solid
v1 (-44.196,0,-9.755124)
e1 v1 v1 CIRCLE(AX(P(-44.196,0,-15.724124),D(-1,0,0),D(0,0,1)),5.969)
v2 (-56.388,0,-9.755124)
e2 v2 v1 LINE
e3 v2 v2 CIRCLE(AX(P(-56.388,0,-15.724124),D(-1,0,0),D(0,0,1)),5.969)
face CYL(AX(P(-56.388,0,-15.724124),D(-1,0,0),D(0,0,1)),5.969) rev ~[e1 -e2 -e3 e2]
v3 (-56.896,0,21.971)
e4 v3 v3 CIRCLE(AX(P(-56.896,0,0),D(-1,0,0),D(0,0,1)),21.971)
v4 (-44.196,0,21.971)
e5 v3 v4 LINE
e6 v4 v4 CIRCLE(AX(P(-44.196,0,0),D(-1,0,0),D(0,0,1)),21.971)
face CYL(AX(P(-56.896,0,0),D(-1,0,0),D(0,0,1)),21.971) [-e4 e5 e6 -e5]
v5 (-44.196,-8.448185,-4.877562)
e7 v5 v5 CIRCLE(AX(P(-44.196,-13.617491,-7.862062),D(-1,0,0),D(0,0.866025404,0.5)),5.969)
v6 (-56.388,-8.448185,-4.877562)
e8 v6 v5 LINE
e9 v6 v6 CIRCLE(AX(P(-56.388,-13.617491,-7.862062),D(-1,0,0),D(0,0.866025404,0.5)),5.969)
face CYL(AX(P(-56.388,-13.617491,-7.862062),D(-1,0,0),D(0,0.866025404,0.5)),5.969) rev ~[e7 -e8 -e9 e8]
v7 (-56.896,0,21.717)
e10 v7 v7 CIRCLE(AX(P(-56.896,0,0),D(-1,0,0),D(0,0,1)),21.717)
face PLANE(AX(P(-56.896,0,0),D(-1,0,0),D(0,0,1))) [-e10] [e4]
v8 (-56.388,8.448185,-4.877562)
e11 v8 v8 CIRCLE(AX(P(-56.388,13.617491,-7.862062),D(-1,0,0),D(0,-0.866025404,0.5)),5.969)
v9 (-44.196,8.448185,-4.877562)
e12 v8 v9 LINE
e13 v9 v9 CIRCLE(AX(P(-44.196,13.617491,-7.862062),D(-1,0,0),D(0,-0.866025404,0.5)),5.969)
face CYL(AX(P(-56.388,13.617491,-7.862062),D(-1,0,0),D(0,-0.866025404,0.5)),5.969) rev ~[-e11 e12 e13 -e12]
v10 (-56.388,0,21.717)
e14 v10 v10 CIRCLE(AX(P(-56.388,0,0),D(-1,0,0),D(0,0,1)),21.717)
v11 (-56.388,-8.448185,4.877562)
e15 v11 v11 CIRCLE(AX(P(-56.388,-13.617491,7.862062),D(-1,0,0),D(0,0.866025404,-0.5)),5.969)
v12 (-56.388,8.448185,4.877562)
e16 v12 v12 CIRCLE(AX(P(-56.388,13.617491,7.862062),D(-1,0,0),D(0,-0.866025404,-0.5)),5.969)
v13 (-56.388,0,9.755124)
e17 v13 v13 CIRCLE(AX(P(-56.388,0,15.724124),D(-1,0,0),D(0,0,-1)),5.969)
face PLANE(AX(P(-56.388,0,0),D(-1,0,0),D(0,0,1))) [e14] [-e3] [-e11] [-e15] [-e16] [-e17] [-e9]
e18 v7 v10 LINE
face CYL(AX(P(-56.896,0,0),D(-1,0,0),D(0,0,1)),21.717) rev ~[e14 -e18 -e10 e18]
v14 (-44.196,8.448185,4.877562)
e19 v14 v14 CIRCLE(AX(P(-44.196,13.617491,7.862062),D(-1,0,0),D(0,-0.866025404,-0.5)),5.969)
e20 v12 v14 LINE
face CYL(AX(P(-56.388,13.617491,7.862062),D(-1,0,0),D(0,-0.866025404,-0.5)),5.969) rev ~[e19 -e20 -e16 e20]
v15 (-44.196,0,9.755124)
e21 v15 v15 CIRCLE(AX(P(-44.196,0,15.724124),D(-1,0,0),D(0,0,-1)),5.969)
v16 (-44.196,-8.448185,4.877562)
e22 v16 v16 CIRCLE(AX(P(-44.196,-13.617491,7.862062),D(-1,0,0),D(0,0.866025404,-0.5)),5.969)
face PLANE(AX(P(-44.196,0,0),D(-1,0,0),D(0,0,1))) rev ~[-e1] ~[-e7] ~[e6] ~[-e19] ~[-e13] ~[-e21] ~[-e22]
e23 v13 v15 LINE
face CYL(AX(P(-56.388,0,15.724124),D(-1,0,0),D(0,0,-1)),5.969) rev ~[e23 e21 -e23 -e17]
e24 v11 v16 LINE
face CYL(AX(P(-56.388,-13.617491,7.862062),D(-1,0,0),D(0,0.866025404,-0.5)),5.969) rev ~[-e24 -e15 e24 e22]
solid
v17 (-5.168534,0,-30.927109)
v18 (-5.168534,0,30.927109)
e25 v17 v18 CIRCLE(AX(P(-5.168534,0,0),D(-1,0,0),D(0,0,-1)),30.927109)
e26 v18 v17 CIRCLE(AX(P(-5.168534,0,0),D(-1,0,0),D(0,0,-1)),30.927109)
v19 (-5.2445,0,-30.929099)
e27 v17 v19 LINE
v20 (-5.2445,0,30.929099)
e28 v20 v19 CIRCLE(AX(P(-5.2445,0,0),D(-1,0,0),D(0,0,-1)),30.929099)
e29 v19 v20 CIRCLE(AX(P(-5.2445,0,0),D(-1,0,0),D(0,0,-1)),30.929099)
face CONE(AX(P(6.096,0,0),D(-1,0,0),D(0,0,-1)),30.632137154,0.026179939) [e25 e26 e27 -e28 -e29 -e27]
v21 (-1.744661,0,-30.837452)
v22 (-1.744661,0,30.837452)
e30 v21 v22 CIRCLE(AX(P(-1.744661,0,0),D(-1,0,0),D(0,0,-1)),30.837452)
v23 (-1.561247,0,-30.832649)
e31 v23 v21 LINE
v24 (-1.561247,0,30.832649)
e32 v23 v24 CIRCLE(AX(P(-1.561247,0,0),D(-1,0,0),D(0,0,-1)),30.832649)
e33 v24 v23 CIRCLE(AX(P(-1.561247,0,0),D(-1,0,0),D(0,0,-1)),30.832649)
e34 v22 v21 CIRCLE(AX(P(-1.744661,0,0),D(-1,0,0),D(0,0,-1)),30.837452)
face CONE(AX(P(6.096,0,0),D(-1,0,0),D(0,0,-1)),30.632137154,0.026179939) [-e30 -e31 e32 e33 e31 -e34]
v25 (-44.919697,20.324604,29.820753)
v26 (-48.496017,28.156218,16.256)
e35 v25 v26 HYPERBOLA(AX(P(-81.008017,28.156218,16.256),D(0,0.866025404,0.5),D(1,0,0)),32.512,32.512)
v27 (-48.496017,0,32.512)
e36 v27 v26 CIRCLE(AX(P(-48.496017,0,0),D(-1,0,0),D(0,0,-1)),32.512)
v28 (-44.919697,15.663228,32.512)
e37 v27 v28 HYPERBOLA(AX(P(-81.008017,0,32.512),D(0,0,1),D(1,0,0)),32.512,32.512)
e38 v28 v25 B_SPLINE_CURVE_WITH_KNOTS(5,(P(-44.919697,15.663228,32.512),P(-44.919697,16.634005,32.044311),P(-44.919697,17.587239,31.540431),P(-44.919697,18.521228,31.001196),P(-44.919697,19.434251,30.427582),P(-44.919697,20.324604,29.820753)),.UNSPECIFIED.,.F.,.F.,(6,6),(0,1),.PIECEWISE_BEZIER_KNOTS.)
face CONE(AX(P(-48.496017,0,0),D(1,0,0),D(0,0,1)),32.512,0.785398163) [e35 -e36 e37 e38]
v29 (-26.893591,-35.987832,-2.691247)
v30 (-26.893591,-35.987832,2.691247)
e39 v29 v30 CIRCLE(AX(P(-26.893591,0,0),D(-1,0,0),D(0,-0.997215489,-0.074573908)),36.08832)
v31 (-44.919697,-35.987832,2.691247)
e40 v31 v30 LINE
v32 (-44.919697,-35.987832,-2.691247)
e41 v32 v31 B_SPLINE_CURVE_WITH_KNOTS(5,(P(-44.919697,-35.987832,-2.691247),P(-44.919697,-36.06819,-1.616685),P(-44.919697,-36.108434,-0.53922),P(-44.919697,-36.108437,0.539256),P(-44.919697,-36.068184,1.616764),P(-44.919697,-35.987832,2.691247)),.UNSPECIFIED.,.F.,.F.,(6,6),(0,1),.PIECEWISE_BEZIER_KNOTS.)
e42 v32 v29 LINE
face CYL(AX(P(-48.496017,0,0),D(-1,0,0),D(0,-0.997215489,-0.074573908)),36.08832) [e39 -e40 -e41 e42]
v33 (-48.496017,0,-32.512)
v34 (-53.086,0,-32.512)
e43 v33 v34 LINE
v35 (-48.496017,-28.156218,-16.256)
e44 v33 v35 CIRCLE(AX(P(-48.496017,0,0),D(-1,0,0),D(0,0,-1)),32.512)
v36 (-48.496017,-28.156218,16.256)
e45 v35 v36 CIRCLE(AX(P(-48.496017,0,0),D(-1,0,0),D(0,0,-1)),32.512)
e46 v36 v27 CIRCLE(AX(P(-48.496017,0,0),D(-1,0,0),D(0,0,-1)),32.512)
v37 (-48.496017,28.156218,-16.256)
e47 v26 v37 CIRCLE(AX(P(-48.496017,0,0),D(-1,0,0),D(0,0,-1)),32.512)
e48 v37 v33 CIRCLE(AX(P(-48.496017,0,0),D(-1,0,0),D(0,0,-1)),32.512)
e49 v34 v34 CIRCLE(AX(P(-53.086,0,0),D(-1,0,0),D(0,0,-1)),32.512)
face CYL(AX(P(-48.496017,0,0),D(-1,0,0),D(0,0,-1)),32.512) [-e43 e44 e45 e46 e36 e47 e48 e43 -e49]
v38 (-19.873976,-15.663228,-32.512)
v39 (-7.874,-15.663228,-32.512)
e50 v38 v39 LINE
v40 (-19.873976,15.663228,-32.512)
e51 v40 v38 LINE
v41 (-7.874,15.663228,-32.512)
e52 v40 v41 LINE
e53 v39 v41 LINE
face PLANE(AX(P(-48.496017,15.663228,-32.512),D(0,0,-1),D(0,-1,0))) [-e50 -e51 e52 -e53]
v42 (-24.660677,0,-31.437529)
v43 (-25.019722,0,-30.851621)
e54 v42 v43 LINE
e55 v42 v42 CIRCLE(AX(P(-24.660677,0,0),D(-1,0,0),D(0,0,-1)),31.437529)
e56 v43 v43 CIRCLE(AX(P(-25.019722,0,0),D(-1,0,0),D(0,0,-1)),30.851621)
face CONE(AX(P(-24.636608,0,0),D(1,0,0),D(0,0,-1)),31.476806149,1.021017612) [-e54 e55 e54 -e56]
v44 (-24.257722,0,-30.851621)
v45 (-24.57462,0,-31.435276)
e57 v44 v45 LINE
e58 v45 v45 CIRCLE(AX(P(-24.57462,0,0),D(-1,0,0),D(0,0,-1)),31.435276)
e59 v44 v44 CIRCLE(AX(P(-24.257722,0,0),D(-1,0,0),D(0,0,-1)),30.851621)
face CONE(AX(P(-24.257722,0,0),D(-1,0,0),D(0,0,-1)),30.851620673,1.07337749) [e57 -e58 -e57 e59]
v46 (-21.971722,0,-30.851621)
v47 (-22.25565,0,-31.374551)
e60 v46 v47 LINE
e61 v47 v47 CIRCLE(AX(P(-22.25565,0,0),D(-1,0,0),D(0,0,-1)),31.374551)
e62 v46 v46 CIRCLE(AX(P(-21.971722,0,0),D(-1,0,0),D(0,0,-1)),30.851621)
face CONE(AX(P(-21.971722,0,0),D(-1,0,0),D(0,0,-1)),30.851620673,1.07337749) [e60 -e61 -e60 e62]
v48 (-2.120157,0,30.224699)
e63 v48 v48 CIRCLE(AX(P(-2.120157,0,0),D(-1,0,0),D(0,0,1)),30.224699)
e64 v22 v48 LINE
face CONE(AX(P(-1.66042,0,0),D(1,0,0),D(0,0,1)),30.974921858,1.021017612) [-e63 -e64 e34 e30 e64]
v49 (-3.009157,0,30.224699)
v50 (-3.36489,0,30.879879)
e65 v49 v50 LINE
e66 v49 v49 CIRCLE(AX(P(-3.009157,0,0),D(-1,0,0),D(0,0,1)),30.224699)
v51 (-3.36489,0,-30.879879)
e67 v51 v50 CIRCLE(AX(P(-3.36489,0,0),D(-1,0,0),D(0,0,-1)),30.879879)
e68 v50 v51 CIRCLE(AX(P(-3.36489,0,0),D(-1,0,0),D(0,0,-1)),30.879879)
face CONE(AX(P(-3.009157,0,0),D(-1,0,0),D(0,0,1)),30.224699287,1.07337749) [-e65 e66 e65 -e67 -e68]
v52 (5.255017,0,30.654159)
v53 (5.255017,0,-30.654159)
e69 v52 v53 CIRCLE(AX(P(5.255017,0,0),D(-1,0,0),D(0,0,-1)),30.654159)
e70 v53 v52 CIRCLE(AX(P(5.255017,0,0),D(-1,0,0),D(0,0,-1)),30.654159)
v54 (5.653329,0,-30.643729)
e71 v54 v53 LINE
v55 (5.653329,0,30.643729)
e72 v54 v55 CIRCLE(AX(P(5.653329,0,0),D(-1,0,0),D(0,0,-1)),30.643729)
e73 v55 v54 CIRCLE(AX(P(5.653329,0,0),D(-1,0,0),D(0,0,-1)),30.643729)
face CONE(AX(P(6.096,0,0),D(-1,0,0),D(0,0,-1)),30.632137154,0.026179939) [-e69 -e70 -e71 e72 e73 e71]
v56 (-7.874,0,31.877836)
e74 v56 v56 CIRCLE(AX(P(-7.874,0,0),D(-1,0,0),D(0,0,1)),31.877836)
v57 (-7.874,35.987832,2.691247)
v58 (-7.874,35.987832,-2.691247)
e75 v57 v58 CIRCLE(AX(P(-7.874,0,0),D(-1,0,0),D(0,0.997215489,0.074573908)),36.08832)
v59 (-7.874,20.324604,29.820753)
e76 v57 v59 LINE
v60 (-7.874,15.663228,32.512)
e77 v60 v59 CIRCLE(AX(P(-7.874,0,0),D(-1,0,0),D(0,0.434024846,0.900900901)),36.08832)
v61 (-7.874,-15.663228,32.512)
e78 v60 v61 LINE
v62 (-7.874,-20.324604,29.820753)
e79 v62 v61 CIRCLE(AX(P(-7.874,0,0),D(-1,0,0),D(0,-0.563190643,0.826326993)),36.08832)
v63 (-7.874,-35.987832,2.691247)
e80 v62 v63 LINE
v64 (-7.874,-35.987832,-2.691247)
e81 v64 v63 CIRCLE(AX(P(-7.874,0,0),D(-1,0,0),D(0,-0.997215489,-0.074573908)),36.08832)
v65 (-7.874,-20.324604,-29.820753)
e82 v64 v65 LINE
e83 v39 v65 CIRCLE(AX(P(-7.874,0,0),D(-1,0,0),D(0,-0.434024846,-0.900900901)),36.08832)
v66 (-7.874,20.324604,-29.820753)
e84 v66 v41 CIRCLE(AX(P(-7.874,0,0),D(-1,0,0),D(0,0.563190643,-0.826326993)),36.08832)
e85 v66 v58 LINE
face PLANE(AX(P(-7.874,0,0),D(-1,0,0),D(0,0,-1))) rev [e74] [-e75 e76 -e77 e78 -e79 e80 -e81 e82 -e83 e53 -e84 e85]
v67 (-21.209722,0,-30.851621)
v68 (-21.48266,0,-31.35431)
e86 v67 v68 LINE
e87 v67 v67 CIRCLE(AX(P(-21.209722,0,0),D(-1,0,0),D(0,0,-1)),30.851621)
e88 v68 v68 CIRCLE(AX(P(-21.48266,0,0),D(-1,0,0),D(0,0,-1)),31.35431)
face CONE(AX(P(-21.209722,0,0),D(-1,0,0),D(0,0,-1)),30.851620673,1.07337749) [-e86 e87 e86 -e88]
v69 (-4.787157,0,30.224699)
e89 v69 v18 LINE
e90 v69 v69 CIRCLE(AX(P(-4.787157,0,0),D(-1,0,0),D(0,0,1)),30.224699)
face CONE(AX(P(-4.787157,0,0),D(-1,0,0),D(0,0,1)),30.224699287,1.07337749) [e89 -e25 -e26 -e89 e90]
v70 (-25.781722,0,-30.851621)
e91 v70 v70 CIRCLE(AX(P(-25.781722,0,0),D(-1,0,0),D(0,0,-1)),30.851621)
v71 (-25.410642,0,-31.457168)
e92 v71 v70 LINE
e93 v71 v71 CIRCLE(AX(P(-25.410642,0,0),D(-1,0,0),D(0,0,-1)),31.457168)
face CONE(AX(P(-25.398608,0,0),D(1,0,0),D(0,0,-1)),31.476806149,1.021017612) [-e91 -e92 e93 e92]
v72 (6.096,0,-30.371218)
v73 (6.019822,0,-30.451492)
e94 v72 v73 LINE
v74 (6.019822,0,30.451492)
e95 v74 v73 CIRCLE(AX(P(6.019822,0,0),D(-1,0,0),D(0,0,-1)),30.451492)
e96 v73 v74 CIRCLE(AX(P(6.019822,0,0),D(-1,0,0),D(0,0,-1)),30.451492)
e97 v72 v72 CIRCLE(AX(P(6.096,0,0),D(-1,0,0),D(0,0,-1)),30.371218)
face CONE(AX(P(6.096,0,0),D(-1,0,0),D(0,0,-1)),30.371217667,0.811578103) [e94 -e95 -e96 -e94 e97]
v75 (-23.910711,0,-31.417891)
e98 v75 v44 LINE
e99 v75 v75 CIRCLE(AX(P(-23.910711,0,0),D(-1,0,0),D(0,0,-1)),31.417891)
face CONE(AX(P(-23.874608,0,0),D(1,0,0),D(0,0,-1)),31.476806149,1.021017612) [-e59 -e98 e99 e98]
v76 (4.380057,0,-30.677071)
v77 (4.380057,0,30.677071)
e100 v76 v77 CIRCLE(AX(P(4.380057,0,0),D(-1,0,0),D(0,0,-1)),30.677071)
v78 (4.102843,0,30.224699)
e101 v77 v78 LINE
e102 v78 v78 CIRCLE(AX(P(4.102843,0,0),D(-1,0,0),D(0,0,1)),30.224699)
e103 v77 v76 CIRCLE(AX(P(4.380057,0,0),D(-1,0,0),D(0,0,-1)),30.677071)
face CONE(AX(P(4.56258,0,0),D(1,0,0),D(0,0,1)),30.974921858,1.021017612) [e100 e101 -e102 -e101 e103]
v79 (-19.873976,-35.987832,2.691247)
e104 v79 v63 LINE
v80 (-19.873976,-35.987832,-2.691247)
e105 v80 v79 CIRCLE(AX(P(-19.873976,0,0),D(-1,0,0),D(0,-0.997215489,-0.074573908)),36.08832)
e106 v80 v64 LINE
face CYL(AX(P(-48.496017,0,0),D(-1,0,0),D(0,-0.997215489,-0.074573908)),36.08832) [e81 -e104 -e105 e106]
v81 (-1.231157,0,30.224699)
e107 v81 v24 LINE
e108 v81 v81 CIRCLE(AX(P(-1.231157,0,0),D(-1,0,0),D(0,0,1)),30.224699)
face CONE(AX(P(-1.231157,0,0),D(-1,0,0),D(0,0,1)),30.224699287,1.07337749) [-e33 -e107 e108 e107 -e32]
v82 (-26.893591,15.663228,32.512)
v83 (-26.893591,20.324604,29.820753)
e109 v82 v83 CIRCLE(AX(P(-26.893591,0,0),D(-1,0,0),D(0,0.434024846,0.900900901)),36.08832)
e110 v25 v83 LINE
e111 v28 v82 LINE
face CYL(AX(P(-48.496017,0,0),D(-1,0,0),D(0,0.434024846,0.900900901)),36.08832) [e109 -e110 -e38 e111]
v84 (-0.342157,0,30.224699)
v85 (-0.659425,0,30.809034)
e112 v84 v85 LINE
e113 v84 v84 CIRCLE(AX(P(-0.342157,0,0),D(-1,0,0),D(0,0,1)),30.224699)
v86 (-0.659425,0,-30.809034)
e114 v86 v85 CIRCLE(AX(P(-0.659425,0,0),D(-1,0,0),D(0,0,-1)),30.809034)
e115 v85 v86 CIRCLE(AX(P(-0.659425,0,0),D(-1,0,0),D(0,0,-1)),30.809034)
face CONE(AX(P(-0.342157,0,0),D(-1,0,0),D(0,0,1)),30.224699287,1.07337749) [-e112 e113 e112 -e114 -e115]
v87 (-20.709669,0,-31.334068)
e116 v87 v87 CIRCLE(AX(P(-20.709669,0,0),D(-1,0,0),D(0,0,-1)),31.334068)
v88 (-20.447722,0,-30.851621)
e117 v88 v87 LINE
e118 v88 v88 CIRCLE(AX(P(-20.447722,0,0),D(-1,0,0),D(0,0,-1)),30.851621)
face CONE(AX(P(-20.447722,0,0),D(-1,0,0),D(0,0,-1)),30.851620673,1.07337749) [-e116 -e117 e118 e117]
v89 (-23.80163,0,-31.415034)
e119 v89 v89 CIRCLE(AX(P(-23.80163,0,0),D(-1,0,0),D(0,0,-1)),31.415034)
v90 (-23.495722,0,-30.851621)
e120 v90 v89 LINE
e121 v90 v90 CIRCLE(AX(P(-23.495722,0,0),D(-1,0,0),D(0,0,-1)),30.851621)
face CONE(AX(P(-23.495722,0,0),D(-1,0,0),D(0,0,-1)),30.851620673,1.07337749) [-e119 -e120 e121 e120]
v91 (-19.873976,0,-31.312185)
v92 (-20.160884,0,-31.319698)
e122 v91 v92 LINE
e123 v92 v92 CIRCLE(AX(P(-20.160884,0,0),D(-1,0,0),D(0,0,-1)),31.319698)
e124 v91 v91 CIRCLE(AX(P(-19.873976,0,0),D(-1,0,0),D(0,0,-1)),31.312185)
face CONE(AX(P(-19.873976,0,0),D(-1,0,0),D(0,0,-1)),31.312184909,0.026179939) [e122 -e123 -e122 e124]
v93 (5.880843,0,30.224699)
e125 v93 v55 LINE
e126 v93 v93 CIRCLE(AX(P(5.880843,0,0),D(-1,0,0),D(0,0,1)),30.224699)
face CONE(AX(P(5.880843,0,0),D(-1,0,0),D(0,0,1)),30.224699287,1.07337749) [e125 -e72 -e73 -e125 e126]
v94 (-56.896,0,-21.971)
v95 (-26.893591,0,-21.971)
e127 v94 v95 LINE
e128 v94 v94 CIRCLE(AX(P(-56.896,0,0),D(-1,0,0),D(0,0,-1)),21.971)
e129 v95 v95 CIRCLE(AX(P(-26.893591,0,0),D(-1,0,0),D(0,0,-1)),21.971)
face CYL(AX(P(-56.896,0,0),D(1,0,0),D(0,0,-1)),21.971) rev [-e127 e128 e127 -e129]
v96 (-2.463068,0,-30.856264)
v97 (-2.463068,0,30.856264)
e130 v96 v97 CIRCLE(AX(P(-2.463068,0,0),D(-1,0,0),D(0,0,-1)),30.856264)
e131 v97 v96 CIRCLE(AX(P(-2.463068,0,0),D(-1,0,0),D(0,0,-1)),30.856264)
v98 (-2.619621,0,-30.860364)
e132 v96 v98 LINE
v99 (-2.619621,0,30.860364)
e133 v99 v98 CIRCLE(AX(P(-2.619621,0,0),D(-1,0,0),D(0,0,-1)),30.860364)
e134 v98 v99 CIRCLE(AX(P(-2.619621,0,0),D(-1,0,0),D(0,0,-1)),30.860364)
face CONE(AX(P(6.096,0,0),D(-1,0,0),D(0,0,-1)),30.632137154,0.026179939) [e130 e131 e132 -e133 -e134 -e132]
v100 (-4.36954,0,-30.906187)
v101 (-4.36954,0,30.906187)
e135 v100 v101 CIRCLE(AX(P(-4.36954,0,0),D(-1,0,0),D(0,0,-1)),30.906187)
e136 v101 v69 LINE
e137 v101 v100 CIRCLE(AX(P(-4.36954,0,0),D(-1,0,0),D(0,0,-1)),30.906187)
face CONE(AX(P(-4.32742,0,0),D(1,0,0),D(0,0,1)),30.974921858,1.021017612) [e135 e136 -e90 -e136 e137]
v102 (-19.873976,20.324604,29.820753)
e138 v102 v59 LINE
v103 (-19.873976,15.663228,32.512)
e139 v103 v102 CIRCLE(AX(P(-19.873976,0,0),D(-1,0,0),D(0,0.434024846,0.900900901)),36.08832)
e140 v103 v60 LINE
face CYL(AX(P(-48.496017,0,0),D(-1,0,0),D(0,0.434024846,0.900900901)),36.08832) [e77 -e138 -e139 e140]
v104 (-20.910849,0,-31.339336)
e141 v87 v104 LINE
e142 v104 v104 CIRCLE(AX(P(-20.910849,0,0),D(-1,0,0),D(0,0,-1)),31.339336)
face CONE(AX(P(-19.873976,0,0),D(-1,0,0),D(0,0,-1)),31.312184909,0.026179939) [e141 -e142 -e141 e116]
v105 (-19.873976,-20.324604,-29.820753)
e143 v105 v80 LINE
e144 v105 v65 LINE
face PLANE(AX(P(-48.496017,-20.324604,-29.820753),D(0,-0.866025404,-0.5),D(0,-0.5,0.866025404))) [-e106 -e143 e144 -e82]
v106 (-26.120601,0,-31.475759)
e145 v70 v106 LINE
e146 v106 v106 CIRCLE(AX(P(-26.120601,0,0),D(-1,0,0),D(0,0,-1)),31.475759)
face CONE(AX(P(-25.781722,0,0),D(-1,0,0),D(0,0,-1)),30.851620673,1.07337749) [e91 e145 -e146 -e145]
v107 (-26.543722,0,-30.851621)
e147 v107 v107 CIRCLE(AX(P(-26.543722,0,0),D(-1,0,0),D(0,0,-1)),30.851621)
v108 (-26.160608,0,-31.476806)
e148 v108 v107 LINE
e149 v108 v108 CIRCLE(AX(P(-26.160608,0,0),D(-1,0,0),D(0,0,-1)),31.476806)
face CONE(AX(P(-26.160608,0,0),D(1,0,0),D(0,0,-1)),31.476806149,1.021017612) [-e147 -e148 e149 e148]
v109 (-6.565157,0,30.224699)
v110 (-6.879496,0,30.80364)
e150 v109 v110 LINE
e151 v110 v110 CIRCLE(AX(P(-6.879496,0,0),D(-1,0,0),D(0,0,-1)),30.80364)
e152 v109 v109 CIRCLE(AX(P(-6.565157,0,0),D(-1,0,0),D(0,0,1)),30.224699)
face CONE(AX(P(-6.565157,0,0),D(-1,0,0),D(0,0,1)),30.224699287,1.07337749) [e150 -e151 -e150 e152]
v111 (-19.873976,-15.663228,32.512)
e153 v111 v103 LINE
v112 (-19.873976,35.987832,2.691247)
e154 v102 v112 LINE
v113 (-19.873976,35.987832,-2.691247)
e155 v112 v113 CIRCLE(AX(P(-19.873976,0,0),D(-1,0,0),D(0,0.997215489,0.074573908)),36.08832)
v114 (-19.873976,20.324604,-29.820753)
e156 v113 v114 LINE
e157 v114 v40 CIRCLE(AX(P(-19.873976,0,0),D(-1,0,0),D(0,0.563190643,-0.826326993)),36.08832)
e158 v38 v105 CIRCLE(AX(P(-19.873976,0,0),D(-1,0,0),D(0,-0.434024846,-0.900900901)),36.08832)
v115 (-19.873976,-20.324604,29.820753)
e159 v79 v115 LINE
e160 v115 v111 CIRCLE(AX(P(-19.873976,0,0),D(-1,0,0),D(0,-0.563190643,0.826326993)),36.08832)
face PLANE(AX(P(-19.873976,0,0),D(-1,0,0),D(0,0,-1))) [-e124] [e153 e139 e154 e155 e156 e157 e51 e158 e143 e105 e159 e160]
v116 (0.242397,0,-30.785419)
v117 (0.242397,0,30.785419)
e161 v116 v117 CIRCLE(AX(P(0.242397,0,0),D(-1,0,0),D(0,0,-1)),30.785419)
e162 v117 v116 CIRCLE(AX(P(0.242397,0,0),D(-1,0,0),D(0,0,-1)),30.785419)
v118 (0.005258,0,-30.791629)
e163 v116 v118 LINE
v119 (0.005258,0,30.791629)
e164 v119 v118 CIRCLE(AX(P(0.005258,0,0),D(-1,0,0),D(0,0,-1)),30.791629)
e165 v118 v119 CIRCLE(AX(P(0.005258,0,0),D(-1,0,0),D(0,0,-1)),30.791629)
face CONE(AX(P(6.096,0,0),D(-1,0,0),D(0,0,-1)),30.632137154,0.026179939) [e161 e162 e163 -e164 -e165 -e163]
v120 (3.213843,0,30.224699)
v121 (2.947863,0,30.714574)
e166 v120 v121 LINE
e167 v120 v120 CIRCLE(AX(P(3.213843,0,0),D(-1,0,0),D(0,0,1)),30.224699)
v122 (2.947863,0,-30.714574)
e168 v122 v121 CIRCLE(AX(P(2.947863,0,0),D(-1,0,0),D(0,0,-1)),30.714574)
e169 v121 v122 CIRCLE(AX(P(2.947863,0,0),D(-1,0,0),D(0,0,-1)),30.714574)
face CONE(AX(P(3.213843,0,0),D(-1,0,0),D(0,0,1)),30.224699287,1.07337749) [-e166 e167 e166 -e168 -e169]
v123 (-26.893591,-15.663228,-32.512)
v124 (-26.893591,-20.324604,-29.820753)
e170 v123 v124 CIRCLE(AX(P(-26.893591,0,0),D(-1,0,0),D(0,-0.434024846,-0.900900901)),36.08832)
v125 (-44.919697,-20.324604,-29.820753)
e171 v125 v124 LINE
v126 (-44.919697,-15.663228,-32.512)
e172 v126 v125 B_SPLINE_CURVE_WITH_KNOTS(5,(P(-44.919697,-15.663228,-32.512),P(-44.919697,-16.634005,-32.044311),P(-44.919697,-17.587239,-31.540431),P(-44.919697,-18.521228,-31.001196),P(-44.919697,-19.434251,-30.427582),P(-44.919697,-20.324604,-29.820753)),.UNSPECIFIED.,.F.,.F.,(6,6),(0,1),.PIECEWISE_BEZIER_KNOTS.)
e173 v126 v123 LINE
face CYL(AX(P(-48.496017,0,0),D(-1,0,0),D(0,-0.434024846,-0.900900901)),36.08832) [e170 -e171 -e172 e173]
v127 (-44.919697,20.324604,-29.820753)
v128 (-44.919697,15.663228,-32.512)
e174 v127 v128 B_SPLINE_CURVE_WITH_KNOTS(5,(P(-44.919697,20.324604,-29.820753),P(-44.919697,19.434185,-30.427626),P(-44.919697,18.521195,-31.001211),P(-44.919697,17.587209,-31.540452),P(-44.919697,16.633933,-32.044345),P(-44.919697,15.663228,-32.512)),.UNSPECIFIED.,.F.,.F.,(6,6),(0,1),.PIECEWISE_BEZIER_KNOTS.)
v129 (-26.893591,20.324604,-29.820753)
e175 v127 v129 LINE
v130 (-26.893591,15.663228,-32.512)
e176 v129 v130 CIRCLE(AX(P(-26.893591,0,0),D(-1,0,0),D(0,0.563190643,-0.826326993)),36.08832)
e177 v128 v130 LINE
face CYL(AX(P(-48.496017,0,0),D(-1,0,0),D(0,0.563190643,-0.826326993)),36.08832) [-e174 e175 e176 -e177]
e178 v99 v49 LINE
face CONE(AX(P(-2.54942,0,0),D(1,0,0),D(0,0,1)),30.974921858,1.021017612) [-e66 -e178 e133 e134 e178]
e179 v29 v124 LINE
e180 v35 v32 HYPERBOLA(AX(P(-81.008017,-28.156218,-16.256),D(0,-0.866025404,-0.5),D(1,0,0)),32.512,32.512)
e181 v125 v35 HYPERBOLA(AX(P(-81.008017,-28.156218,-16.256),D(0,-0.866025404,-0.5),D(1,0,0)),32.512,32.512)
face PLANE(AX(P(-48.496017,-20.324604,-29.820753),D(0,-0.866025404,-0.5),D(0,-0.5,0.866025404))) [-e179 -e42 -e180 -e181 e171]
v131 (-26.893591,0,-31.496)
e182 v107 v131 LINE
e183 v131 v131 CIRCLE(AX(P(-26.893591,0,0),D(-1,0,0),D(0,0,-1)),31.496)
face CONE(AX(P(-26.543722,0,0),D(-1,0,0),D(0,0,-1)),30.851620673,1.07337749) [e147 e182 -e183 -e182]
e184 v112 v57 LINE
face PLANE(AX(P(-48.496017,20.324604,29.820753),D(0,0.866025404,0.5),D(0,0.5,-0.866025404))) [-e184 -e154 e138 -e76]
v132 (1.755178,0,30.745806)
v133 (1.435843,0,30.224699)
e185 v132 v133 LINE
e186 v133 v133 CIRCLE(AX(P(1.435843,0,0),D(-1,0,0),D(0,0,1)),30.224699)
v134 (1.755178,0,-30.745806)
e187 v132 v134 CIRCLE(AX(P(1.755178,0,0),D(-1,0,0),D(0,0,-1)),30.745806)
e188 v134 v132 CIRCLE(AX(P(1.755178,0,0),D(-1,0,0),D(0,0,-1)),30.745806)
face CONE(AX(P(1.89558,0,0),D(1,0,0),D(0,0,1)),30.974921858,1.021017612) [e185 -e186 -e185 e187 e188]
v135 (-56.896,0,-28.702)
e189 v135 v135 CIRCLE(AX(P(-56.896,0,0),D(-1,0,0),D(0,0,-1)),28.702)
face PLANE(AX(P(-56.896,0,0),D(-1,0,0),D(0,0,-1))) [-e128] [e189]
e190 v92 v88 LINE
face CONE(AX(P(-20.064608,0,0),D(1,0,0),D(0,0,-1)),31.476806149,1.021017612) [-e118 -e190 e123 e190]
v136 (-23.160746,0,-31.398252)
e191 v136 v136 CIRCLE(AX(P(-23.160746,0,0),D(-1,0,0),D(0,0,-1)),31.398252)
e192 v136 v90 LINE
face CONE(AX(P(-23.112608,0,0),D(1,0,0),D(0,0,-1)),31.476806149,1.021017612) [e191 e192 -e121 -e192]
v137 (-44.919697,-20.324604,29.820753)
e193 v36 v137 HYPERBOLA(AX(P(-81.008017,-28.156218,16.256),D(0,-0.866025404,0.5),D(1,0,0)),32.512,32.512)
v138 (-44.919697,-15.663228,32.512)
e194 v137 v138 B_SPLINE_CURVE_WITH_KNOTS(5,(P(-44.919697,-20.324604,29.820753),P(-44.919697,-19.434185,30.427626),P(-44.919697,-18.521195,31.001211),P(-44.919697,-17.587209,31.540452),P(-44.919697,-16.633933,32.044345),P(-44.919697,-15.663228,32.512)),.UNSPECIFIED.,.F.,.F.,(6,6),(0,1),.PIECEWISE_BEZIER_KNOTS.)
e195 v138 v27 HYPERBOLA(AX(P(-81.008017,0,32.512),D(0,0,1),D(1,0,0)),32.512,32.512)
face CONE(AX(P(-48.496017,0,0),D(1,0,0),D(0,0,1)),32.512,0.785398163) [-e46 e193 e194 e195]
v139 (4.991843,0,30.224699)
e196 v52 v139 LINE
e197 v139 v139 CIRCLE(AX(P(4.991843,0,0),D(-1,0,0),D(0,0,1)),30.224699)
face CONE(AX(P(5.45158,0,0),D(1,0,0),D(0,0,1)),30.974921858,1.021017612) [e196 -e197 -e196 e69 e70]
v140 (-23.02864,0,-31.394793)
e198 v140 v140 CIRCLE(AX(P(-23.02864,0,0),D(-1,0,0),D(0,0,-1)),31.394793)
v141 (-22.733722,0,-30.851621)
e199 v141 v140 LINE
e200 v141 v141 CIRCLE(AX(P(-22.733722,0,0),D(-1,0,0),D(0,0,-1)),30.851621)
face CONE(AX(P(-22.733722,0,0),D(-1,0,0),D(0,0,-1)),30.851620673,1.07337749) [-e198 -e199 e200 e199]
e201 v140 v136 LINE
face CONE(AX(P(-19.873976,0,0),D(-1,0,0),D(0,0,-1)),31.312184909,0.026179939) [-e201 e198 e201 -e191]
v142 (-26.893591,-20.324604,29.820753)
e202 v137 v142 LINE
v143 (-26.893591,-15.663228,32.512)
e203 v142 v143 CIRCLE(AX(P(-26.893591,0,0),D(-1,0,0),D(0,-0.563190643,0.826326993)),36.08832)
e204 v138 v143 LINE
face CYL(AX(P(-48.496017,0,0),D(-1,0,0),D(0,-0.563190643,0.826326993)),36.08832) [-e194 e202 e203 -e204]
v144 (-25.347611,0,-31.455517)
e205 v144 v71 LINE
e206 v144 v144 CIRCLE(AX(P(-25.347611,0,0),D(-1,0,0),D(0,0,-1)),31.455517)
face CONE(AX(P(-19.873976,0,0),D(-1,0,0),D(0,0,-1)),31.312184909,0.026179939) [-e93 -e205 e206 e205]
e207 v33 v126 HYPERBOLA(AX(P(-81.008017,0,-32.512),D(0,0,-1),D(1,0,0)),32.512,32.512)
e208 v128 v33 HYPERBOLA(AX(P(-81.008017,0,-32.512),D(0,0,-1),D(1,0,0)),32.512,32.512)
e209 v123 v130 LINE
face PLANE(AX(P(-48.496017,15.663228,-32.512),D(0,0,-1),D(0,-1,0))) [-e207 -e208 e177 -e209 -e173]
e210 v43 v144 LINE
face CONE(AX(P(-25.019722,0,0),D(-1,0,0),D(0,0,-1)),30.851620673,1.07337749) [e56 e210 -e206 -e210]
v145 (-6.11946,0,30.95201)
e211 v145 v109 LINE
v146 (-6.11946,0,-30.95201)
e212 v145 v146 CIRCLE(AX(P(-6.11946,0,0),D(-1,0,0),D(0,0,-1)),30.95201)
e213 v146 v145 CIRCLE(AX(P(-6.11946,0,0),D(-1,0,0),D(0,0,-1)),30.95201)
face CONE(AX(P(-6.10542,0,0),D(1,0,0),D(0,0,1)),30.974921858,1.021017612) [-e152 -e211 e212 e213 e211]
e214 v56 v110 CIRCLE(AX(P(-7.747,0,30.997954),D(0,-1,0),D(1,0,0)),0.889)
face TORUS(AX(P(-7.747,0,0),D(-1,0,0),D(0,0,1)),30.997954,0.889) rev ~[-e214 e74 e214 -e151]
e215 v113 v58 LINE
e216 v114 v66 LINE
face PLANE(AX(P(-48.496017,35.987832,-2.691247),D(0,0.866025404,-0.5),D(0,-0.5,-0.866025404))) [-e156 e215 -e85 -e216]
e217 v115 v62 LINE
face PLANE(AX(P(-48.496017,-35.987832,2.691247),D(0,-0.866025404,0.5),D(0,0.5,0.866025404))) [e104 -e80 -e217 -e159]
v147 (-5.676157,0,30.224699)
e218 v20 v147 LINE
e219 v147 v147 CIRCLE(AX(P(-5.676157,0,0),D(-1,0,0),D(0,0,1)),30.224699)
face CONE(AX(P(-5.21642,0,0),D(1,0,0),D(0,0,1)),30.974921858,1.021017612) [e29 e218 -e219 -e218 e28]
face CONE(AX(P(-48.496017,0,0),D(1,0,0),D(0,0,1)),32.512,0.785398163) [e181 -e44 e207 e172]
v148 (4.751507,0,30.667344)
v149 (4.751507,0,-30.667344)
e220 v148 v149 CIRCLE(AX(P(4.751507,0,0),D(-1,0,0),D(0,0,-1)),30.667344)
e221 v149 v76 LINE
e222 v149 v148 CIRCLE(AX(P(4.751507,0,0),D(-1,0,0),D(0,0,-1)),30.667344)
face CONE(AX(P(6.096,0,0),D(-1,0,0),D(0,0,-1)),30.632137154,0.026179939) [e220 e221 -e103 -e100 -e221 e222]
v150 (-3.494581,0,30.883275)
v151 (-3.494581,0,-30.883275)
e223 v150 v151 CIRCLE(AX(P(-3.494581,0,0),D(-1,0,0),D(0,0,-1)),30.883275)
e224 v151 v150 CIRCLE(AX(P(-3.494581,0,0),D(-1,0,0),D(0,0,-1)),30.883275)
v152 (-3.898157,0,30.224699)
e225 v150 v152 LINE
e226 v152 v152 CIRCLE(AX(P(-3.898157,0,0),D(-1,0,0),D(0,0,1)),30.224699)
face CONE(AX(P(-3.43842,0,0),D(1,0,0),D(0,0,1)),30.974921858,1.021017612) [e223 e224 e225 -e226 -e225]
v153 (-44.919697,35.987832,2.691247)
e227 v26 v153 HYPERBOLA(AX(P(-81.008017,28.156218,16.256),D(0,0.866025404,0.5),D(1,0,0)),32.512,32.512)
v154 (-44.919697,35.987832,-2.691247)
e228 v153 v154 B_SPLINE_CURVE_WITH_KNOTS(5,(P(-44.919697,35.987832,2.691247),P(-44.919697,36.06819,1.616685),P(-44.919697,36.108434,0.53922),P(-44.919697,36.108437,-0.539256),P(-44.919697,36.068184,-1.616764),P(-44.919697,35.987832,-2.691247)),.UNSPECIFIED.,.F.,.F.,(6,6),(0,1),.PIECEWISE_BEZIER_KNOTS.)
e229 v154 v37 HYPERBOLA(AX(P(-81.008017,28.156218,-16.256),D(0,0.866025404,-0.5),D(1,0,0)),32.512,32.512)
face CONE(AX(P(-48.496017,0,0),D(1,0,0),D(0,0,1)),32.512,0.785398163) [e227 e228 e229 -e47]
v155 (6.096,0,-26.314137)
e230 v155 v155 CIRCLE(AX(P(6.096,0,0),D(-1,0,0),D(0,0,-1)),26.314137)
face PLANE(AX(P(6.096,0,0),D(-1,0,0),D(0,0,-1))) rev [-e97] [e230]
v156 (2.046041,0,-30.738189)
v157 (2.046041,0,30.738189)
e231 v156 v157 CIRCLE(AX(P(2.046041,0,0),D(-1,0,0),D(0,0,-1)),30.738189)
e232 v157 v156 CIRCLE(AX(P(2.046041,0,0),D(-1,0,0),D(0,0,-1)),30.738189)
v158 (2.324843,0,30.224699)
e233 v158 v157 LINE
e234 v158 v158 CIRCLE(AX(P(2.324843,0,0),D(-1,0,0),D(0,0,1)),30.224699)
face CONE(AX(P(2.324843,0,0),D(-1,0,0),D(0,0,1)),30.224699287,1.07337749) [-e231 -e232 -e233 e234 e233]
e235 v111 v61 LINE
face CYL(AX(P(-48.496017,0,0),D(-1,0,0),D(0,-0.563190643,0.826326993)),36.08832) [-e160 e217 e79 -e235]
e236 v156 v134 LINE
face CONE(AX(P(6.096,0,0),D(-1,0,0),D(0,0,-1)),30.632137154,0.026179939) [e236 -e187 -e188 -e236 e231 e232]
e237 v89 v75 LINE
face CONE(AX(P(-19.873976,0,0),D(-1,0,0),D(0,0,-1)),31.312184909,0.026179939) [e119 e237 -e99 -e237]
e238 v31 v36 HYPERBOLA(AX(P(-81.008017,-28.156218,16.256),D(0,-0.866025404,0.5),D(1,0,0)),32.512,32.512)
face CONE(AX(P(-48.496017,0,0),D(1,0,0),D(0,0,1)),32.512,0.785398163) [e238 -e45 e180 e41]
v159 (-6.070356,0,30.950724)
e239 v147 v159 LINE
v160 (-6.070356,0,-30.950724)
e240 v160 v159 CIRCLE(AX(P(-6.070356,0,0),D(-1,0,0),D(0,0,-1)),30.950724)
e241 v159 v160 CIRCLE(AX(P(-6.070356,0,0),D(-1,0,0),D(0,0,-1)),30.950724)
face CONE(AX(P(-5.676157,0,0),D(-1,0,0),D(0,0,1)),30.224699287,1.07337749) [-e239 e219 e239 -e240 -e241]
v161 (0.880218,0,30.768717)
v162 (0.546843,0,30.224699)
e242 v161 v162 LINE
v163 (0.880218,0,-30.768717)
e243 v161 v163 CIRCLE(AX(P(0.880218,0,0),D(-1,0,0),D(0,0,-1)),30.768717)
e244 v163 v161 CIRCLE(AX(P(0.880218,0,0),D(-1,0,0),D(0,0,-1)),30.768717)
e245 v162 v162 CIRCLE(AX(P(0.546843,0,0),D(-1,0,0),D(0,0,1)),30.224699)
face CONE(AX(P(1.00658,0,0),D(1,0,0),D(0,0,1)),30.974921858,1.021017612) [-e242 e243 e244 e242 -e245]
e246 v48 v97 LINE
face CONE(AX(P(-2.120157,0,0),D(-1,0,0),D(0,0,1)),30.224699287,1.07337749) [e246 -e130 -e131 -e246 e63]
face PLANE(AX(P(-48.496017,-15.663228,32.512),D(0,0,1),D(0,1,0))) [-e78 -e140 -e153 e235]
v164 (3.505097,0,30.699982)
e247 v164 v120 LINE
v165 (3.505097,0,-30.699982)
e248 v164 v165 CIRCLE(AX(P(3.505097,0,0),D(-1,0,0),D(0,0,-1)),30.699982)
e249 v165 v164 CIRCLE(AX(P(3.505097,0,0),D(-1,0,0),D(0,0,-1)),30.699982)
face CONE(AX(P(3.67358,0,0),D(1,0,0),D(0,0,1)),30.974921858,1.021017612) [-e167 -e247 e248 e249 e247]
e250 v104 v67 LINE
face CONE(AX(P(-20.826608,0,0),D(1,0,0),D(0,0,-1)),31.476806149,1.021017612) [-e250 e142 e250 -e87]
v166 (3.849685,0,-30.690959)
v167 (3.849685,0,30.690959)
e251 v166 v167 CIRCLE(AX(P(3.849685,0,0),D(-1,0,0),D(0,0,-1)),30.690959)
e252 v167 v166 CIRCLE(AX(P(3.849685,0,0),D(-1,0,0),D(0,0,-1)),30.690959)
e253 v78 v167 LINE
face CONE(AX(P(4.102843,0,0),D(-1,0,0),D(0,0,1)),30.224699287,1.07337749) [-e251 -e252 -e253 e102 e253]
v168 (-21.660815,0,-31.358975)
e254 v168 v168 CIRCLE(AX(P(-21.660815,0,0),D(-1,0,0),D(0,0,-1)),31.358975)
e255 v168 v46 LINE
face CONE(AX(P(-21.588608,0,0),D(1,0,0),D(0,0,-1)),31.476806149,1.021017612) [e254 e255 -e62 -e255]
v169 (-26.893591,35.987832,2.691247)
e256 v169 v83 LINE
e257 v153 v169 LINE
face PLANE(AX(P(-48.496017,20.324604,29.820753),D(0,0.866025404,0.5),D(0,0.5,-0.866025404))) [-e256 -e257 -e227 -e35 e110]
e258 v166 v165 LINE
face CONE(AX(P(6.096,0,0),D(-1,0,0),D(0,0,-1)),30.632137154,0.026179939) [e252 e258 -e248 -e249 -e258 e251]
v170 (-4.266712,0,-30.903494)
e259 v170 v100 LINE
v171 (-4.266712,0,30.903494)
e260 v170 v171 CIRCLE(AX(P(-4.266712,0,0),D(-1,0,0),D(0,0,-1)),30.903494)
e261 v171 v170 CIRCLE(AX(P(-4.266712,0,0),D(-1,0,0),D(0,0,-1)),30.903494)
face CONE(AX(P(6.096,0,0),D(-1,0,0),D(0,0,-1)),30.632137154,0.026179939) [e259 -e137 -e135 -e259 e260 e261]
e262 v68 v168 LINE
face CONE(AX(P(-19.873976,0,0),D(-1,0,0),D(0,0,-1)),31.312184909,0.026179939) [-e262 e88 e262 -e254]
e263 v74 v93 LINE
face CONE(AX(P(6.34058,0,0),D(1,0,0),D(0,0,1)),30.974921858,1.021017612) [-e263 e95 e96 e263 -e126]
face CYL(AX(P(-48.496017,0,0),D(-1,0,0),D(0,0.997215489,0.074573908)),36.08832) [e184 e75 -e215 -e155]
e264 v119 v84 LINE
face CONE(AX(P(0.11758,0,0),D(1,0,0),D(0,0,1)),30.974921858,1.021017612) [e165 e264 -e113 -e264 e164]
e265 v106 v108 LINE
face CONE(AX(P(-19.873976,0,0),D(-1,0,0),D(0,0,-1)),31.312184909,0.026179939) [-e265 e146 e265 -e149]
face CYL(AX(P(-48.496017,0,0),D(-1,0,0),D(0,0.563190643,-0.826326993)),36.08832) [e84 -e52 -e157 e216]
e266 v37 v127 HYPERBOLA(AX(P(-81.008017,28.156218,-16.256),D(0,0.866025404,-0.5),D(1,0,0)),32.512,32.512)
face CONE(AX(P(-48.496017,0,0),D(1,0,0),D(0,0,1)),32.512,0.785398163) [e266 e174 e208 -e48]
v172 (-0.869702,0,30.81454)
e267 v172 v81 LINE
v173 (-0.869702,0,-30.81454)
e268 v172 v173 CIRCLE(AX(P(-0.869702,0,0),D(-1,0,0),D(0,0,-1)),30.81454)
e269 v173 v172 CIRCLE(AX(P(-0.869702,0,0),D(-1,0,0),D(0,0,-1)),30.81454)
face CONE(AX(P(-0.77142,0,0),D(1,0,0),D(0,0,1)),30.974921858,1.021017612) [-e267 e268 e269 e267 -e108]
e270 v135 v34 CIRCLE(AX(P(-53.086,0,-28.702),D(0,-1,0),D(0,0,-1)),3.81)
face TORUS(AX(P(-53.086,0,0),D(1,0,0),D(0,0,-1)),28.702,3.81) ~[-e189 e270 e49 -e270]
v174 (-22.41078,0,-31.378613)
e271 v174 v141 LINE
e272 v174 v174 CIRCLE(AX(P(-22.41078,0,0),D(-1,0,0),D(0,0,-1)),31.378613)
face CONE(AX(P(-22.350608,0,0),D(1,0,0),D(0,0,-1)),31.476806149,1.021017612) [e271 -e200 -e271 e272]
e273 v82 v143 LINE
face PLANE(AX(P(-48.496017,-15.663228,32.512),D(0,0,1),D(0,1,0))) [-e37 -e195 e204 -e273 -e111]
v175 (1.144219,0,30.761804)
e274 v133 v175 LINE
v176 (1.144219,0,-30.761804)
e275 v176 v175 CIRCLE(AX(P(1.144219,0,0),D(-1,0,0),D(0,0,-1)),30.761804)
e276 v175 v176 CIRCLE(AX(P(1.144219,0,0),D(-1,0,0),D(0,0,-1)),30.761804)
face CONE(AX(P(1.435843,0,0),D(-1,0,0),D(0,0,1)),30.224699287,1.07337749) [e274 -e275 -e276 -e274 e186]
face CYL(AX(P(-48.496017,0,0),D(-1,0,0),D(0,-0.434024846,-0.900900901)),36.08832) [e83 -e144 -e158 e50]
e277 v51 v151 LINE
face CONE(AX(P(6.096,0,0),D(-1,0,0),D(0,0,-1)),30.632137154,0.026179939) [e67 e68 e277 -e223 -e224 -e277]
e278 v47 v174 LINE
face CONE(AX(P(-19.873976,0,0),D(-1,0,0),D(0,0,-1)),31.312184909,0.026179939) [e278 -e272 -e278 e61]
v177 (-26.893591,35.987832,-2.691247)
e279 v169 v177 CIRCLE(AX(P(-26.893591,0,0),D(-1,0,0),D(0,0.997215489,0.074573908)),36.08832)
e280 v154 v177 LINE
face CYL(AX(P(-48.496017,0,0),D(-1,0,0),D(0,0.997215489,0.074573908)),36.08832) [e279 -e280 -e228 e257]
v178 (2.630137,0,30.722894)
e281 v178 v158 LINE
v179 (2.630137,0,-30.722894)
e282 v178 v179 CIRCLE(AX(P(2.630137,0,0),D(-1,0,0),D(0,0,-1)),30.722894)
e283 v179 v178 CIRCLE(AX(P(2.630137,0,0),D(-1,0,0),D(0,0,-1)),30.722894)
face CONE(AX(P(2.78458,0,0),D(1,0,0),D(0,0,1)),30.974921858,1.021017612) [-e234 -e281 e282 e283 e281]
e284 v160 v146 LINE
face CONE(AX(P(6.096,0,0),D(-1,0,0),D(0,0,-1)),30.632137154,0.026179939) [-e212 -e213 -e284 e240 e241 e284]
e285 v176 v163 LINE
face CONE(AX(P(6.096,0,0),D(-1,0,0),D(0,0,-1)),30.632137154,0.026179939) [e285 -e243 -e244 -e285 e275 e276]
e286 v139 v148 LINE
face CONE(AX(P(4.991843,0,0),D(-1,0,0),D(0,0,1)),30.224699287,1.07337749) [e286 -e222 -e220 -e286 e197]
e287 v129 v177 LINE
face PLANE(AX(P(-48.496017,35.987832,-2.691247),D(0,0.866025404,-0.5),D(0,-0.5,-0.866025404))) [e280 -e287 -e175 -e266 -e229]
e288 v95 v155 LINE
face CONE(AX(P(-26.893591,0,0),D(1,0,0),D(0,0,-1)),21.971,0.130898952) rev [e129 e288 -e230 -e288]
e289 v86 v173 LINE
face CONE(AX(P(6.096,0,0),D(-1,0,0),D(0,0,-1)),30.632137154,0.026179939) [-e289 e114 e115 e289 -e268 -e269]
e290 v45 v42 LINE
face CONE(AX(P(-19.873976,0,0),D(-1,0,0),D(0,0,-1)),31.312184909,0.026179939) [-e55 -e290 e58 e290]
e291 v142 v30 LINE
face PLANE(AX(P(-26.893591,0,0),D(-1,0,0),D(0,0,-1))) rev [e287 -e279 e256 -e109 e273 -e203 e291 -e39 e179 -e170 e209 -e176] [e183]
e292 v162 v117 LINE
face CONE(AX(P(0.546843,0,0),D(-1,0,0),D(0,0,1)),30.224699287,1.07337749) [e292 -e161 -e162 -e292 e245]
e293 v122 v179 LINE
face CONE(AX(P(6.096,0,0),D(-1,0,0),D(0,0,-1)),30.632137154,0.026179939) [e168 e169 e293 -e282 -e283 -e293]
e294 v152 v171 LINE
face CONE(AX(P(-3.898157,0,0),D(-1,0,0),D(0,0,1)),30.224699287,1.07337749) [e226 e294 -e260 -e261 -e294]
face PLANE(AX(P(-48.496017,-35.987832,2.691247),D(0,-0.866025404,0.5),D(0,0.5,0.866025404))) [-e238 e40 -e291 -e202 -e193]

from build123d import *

# Parameters (mm, degrees)
SKETCH12_OUTSIDE_W = 170.928
SKETCH12_OUTSIDE_H = 170.928
CUT_EXTRUDE2_DEPTH = 55.5920168
FILLET4_R          = 3.81
SKETCH19_OUTSIDE_W = 98.176
SKETCH19_OUTSIDE_H = 105.328
SKETCH19_OUTSIDE_R = 32.512
CUT_EXTRUDE3_DEPTH = 3.99796
CUT_EXTRUDE3_DRAFT = -45
CHAMFER1_SIZE      = 0.260919487
CHAMFER1_SIZE2     = 0.254
SKETCH21_R         = 21.971
PLUG_DEPTH         = 12.7
SKETCH22_R         = 21.717
CUT_EXTRUDE4_DEPTH = 0.508
SKETCH27_R         = 5.969
PLUGHOLES_DEPTH    = 63.484
CIRPATTERN1_COUNT  = 6
LPATTERN1_COUNT    = 9
LPATTERN1_PITCH    = 0.762
LPATTERN2_COUNT    = 16
LPATTERN2_PITCH    = 0.889
SKETCH32_R         = 0.889


with BuildPart() as part:
    # Sketch10 → Revolve2 (revolve)
    with BuildSketch(Plane.XY, mode=Mode.PRIVATE) as revolve2_sk:
        Polygon((-56.896, 21.971), (-26.89359112, 21.971), (6.096, 26.314137154), (6.096, 30.632137154), (-7.874, 30.997954479), (-7.874, 65.024), (-19.873976, 65.024), (-19.873976, 31.312184909), (-26.89359112, 31.496), (-26.89359112, 65.024), (-48.4960168, 65.024), (-48.4960168, 32.512), (-56.896, 32.512), align=None)
    revolve(revolve2_sk.sketch.rotate(Axis((0, 0, 0), (-1, 0, 0)), 90), axis=Axis((0, 0, 0), (-1, 0, 0)))  # turned: the seam where the file's is

    # Sketch12 outside → Cut-Extrude2 (cut, through all)
    with BuildSketch(Plane.ZY.offset(48.4960168)):
        Rectangle(SKETCH12_OUTSIDE_W, SKETCH12_OUTSIDE_H)
        with BuildLine():
            Line((-2.69124706, 35.987831689), (-29.82075294, 20.324604167))
            ThreePointArc((-29.82075294, 20.324604167), (-31.2534019, 18.04416), (-32.512, 15.663227523))
            Line((-32.512, 15.663227523), (-32.512, -15.663227523))
            ThreePointArc((-32.512, -15.663227523), (-31.2534019, -18.04416), (-29.82075294, -20.324604167))
            Line((-29.82075294, -20.324604167), (-2.69124706, -35.987831689))
            ThreePointArc((-2.69124706, -35.987831689), (0, -36.08832), (2.69124706, -35.987831689))
            Line((2.69124706, -35.987831689), (29.82075294, -20.324604167))
            ThreePointArc((29.82075294, -20.324604167), (31.2534019, -18.04416), (32.512, -15.663227523))
            Line((32.512, -15.663227523), (32.512, 15.663227523))
            ThreePointArc((32.512, 15.663227523), (31.2534019, 18.04416), (29.82075294, 20.324604167))
            Line((29.82075294, 20.324604167), (2.69124706, 35.987831689))
            ThreePointArc((2.69124706, 35.987831689), (0, 36.08832), (-2.69124706, 35.987831689))
        make_face(mode=Mode.SUBTRACT)
    extrude(amount=-CUT_EXTRUDE2_DEPTH, mode=Mode.SUBTRACT)

    # Fillet4
    fillet4_edges = [part.edges().sort_by_distance(p)[0] for p in [
        (-56.896, 0, 32.512),
    ]]
    fillet(fillet4_edges, radius=FILLET4_R)


with BuildPart() as cut_extrude3_tool:
    # Sketch19 outside → Cut-Extrude3 (with draft: the straight prism first)
    with BuildSketch(Plane.ZY.offset(48.4960168)):
        Rectangle(SKETCH19_OUTSIDE_W, SKETCH19_OUTSIDE_H)
        Circle(SKETCH19_OUTSIDE_R, mode=Mode.SUBTRACT)
    extrude(amount=-CUT_EXTRUDE3_DEPTH)
    # Cut-Extrude3: the draft: its side faces are tilted about the plane it starts from
    cut_extrude3_sides = [cut_extrude3_tool.faces().sort_by_distance(p)[0] for p in [
        (-46.4970368, -52.664, 0),
        (-46.4970368, 0, 49.088),
        (-46.4970368, 52.664, 0),
        (-46.4970368, 0, -49.088),
        (-46.4970368, 0, -32.512),
    ]]
    draft(cut_extrude3_sides, Plane.ZY.offset(48.4960168), CUT_EXTRUDE3_DRAFT)


with BuildPart() as part_1:
    add(part.part)

    # Cut-Extrude3: cut by cut_extrude3_tool
    add(cut_extrude3_tool.part, mode=Mode.SUBTRACT)

    # Chamfer1
    chamfer1_edges = [part_1.edges().sort_by_distance(p)[0] for p in [
        (6.096, 0, 30.632137154),
    ]]
    chamfer1_side = [part_1.faces().sort_by_distance(p)[0] for p in [
        (6.096, 0, 27.18054483),
    ]]
    chamfer(chamfer1_edges, length=CHAMFER1_SIZE, length2=CHAMFER1_SIZE2, reference=chamfer1_side[0])

    # Sketch29 → Cut-Revolve1 (revolve, cut)
    with BuildSketch(Plane.XY, mode=Mode.PRIVATE) as cut_revolve1_sk:
        Polygon((-26.89359112, 31.496), (-26.160607539, 31.476806149), (-26.543721692, 30.851620673), align=None)
    cut_revolve1 = revolve(cut_revolve1_sk.sketch.rotate(Axis((0, 0, 0), (-1, 0, 0)), 90), axis=Axis((0, 0, 0), (-1, 0, 0)), mode=Mode.SUBTRACT)  # turned: the seam where the file's is

    # LPattern1: Cut-Revolve1 ×9
    with Locations(*[(i * LPATTERN1_PITCH, 0, 0) for i in range(1, LPATTERN1_COUNT)]):
        add(cut_revolve1, mode=Mode.SUBTRACT)

    # Sketch30 → Cut-Revolve2 (revolve, cut)
    with BuildSketch(Plane.XY, mode=Mode.PRIVATE) as cut_revolve2_sk:
        Polygon((-7.874, 30.997954479), (-6.994419703, 30.974921858), (-7.454156686, 30.224699287), align=None)
    cut_revolve2 = revolve(cut_revolve2_sk.sketch.rotate(Axis((0, 0, 0), (-1, 0, 0)), 270), axis=Axis((0, 0, 0), (-1, 0, 0)), mode=Mode.SUBTRACT)  # turned: the seam where the file's is

    # LPattern2: Cut-Revolve2 ×16
    with Locations(*[(i * LPATTERN2_PITCH, 0, 0) for i in range(1, LPATTERN2_COUNT)]):
        add(cut_revolve2, mode=Mode.SUBTRACT)

    # Sketch32 → Cut-Revolve3 (revolve, cut)
    with BuildSketch(Plane.XY, mode=Mode.PRIVATE) as cut_revolve3_sk:
        with Locations((-7.747, 30.997954479)):
            Circle(SKETCH32_R)
    revolve(cut_revolve3_sk.sketch.rotate(Axis((0, 0, 0), (-1, 0, 0)), 270), axis=Axis((0, 0, 0), (-1, 0, 0)), mode=Mode.SUBTRACT)  # turned: the seam where the file's is


with BuildPart() as body_2:
    # Sketch21 → plug (new body)
    with BuildSketch(Plane.ZY.offset(56.896)):
        Circle(SKETCH21_R)
    extrude(amount=-PLUG_DEPTH)

    # Sketch22 → Cut-Extrude4 (cut)
    with BuildSketch(Plane.ZY.offset(56.896)):
        Circle(SKETCH22_R)
    extrude(amount=-CUT_EXTRUDE4_DEPTH, mode=Mode.SUBTRACT)

    # Sketch27 → plugholes (cut, through all)
    with BuildSketch(Plane.ZY.offset(56.388)):
        with Locations((-15.724124, 0)):
            Circle(SKETCH27_R)
    plugholes = extrude(amount=-PLUGHOLES_DEPTH, mode=Mode.SUBTRACT)

    # CirPattern1: plugholes ×6 about axis
    cirpattern1_axis = Axis((0, 0, 0), (1, 0, 0))
    for i in range(1, CIRPATTERN1_COUNT):
        add(plugholes.rotate(cirpattern1_axis, i * 360 / CIRPATTERN1_COUNT), mode=Mode.SUBTRACT)


solid = Compound([part_1.part, body_2.part])
